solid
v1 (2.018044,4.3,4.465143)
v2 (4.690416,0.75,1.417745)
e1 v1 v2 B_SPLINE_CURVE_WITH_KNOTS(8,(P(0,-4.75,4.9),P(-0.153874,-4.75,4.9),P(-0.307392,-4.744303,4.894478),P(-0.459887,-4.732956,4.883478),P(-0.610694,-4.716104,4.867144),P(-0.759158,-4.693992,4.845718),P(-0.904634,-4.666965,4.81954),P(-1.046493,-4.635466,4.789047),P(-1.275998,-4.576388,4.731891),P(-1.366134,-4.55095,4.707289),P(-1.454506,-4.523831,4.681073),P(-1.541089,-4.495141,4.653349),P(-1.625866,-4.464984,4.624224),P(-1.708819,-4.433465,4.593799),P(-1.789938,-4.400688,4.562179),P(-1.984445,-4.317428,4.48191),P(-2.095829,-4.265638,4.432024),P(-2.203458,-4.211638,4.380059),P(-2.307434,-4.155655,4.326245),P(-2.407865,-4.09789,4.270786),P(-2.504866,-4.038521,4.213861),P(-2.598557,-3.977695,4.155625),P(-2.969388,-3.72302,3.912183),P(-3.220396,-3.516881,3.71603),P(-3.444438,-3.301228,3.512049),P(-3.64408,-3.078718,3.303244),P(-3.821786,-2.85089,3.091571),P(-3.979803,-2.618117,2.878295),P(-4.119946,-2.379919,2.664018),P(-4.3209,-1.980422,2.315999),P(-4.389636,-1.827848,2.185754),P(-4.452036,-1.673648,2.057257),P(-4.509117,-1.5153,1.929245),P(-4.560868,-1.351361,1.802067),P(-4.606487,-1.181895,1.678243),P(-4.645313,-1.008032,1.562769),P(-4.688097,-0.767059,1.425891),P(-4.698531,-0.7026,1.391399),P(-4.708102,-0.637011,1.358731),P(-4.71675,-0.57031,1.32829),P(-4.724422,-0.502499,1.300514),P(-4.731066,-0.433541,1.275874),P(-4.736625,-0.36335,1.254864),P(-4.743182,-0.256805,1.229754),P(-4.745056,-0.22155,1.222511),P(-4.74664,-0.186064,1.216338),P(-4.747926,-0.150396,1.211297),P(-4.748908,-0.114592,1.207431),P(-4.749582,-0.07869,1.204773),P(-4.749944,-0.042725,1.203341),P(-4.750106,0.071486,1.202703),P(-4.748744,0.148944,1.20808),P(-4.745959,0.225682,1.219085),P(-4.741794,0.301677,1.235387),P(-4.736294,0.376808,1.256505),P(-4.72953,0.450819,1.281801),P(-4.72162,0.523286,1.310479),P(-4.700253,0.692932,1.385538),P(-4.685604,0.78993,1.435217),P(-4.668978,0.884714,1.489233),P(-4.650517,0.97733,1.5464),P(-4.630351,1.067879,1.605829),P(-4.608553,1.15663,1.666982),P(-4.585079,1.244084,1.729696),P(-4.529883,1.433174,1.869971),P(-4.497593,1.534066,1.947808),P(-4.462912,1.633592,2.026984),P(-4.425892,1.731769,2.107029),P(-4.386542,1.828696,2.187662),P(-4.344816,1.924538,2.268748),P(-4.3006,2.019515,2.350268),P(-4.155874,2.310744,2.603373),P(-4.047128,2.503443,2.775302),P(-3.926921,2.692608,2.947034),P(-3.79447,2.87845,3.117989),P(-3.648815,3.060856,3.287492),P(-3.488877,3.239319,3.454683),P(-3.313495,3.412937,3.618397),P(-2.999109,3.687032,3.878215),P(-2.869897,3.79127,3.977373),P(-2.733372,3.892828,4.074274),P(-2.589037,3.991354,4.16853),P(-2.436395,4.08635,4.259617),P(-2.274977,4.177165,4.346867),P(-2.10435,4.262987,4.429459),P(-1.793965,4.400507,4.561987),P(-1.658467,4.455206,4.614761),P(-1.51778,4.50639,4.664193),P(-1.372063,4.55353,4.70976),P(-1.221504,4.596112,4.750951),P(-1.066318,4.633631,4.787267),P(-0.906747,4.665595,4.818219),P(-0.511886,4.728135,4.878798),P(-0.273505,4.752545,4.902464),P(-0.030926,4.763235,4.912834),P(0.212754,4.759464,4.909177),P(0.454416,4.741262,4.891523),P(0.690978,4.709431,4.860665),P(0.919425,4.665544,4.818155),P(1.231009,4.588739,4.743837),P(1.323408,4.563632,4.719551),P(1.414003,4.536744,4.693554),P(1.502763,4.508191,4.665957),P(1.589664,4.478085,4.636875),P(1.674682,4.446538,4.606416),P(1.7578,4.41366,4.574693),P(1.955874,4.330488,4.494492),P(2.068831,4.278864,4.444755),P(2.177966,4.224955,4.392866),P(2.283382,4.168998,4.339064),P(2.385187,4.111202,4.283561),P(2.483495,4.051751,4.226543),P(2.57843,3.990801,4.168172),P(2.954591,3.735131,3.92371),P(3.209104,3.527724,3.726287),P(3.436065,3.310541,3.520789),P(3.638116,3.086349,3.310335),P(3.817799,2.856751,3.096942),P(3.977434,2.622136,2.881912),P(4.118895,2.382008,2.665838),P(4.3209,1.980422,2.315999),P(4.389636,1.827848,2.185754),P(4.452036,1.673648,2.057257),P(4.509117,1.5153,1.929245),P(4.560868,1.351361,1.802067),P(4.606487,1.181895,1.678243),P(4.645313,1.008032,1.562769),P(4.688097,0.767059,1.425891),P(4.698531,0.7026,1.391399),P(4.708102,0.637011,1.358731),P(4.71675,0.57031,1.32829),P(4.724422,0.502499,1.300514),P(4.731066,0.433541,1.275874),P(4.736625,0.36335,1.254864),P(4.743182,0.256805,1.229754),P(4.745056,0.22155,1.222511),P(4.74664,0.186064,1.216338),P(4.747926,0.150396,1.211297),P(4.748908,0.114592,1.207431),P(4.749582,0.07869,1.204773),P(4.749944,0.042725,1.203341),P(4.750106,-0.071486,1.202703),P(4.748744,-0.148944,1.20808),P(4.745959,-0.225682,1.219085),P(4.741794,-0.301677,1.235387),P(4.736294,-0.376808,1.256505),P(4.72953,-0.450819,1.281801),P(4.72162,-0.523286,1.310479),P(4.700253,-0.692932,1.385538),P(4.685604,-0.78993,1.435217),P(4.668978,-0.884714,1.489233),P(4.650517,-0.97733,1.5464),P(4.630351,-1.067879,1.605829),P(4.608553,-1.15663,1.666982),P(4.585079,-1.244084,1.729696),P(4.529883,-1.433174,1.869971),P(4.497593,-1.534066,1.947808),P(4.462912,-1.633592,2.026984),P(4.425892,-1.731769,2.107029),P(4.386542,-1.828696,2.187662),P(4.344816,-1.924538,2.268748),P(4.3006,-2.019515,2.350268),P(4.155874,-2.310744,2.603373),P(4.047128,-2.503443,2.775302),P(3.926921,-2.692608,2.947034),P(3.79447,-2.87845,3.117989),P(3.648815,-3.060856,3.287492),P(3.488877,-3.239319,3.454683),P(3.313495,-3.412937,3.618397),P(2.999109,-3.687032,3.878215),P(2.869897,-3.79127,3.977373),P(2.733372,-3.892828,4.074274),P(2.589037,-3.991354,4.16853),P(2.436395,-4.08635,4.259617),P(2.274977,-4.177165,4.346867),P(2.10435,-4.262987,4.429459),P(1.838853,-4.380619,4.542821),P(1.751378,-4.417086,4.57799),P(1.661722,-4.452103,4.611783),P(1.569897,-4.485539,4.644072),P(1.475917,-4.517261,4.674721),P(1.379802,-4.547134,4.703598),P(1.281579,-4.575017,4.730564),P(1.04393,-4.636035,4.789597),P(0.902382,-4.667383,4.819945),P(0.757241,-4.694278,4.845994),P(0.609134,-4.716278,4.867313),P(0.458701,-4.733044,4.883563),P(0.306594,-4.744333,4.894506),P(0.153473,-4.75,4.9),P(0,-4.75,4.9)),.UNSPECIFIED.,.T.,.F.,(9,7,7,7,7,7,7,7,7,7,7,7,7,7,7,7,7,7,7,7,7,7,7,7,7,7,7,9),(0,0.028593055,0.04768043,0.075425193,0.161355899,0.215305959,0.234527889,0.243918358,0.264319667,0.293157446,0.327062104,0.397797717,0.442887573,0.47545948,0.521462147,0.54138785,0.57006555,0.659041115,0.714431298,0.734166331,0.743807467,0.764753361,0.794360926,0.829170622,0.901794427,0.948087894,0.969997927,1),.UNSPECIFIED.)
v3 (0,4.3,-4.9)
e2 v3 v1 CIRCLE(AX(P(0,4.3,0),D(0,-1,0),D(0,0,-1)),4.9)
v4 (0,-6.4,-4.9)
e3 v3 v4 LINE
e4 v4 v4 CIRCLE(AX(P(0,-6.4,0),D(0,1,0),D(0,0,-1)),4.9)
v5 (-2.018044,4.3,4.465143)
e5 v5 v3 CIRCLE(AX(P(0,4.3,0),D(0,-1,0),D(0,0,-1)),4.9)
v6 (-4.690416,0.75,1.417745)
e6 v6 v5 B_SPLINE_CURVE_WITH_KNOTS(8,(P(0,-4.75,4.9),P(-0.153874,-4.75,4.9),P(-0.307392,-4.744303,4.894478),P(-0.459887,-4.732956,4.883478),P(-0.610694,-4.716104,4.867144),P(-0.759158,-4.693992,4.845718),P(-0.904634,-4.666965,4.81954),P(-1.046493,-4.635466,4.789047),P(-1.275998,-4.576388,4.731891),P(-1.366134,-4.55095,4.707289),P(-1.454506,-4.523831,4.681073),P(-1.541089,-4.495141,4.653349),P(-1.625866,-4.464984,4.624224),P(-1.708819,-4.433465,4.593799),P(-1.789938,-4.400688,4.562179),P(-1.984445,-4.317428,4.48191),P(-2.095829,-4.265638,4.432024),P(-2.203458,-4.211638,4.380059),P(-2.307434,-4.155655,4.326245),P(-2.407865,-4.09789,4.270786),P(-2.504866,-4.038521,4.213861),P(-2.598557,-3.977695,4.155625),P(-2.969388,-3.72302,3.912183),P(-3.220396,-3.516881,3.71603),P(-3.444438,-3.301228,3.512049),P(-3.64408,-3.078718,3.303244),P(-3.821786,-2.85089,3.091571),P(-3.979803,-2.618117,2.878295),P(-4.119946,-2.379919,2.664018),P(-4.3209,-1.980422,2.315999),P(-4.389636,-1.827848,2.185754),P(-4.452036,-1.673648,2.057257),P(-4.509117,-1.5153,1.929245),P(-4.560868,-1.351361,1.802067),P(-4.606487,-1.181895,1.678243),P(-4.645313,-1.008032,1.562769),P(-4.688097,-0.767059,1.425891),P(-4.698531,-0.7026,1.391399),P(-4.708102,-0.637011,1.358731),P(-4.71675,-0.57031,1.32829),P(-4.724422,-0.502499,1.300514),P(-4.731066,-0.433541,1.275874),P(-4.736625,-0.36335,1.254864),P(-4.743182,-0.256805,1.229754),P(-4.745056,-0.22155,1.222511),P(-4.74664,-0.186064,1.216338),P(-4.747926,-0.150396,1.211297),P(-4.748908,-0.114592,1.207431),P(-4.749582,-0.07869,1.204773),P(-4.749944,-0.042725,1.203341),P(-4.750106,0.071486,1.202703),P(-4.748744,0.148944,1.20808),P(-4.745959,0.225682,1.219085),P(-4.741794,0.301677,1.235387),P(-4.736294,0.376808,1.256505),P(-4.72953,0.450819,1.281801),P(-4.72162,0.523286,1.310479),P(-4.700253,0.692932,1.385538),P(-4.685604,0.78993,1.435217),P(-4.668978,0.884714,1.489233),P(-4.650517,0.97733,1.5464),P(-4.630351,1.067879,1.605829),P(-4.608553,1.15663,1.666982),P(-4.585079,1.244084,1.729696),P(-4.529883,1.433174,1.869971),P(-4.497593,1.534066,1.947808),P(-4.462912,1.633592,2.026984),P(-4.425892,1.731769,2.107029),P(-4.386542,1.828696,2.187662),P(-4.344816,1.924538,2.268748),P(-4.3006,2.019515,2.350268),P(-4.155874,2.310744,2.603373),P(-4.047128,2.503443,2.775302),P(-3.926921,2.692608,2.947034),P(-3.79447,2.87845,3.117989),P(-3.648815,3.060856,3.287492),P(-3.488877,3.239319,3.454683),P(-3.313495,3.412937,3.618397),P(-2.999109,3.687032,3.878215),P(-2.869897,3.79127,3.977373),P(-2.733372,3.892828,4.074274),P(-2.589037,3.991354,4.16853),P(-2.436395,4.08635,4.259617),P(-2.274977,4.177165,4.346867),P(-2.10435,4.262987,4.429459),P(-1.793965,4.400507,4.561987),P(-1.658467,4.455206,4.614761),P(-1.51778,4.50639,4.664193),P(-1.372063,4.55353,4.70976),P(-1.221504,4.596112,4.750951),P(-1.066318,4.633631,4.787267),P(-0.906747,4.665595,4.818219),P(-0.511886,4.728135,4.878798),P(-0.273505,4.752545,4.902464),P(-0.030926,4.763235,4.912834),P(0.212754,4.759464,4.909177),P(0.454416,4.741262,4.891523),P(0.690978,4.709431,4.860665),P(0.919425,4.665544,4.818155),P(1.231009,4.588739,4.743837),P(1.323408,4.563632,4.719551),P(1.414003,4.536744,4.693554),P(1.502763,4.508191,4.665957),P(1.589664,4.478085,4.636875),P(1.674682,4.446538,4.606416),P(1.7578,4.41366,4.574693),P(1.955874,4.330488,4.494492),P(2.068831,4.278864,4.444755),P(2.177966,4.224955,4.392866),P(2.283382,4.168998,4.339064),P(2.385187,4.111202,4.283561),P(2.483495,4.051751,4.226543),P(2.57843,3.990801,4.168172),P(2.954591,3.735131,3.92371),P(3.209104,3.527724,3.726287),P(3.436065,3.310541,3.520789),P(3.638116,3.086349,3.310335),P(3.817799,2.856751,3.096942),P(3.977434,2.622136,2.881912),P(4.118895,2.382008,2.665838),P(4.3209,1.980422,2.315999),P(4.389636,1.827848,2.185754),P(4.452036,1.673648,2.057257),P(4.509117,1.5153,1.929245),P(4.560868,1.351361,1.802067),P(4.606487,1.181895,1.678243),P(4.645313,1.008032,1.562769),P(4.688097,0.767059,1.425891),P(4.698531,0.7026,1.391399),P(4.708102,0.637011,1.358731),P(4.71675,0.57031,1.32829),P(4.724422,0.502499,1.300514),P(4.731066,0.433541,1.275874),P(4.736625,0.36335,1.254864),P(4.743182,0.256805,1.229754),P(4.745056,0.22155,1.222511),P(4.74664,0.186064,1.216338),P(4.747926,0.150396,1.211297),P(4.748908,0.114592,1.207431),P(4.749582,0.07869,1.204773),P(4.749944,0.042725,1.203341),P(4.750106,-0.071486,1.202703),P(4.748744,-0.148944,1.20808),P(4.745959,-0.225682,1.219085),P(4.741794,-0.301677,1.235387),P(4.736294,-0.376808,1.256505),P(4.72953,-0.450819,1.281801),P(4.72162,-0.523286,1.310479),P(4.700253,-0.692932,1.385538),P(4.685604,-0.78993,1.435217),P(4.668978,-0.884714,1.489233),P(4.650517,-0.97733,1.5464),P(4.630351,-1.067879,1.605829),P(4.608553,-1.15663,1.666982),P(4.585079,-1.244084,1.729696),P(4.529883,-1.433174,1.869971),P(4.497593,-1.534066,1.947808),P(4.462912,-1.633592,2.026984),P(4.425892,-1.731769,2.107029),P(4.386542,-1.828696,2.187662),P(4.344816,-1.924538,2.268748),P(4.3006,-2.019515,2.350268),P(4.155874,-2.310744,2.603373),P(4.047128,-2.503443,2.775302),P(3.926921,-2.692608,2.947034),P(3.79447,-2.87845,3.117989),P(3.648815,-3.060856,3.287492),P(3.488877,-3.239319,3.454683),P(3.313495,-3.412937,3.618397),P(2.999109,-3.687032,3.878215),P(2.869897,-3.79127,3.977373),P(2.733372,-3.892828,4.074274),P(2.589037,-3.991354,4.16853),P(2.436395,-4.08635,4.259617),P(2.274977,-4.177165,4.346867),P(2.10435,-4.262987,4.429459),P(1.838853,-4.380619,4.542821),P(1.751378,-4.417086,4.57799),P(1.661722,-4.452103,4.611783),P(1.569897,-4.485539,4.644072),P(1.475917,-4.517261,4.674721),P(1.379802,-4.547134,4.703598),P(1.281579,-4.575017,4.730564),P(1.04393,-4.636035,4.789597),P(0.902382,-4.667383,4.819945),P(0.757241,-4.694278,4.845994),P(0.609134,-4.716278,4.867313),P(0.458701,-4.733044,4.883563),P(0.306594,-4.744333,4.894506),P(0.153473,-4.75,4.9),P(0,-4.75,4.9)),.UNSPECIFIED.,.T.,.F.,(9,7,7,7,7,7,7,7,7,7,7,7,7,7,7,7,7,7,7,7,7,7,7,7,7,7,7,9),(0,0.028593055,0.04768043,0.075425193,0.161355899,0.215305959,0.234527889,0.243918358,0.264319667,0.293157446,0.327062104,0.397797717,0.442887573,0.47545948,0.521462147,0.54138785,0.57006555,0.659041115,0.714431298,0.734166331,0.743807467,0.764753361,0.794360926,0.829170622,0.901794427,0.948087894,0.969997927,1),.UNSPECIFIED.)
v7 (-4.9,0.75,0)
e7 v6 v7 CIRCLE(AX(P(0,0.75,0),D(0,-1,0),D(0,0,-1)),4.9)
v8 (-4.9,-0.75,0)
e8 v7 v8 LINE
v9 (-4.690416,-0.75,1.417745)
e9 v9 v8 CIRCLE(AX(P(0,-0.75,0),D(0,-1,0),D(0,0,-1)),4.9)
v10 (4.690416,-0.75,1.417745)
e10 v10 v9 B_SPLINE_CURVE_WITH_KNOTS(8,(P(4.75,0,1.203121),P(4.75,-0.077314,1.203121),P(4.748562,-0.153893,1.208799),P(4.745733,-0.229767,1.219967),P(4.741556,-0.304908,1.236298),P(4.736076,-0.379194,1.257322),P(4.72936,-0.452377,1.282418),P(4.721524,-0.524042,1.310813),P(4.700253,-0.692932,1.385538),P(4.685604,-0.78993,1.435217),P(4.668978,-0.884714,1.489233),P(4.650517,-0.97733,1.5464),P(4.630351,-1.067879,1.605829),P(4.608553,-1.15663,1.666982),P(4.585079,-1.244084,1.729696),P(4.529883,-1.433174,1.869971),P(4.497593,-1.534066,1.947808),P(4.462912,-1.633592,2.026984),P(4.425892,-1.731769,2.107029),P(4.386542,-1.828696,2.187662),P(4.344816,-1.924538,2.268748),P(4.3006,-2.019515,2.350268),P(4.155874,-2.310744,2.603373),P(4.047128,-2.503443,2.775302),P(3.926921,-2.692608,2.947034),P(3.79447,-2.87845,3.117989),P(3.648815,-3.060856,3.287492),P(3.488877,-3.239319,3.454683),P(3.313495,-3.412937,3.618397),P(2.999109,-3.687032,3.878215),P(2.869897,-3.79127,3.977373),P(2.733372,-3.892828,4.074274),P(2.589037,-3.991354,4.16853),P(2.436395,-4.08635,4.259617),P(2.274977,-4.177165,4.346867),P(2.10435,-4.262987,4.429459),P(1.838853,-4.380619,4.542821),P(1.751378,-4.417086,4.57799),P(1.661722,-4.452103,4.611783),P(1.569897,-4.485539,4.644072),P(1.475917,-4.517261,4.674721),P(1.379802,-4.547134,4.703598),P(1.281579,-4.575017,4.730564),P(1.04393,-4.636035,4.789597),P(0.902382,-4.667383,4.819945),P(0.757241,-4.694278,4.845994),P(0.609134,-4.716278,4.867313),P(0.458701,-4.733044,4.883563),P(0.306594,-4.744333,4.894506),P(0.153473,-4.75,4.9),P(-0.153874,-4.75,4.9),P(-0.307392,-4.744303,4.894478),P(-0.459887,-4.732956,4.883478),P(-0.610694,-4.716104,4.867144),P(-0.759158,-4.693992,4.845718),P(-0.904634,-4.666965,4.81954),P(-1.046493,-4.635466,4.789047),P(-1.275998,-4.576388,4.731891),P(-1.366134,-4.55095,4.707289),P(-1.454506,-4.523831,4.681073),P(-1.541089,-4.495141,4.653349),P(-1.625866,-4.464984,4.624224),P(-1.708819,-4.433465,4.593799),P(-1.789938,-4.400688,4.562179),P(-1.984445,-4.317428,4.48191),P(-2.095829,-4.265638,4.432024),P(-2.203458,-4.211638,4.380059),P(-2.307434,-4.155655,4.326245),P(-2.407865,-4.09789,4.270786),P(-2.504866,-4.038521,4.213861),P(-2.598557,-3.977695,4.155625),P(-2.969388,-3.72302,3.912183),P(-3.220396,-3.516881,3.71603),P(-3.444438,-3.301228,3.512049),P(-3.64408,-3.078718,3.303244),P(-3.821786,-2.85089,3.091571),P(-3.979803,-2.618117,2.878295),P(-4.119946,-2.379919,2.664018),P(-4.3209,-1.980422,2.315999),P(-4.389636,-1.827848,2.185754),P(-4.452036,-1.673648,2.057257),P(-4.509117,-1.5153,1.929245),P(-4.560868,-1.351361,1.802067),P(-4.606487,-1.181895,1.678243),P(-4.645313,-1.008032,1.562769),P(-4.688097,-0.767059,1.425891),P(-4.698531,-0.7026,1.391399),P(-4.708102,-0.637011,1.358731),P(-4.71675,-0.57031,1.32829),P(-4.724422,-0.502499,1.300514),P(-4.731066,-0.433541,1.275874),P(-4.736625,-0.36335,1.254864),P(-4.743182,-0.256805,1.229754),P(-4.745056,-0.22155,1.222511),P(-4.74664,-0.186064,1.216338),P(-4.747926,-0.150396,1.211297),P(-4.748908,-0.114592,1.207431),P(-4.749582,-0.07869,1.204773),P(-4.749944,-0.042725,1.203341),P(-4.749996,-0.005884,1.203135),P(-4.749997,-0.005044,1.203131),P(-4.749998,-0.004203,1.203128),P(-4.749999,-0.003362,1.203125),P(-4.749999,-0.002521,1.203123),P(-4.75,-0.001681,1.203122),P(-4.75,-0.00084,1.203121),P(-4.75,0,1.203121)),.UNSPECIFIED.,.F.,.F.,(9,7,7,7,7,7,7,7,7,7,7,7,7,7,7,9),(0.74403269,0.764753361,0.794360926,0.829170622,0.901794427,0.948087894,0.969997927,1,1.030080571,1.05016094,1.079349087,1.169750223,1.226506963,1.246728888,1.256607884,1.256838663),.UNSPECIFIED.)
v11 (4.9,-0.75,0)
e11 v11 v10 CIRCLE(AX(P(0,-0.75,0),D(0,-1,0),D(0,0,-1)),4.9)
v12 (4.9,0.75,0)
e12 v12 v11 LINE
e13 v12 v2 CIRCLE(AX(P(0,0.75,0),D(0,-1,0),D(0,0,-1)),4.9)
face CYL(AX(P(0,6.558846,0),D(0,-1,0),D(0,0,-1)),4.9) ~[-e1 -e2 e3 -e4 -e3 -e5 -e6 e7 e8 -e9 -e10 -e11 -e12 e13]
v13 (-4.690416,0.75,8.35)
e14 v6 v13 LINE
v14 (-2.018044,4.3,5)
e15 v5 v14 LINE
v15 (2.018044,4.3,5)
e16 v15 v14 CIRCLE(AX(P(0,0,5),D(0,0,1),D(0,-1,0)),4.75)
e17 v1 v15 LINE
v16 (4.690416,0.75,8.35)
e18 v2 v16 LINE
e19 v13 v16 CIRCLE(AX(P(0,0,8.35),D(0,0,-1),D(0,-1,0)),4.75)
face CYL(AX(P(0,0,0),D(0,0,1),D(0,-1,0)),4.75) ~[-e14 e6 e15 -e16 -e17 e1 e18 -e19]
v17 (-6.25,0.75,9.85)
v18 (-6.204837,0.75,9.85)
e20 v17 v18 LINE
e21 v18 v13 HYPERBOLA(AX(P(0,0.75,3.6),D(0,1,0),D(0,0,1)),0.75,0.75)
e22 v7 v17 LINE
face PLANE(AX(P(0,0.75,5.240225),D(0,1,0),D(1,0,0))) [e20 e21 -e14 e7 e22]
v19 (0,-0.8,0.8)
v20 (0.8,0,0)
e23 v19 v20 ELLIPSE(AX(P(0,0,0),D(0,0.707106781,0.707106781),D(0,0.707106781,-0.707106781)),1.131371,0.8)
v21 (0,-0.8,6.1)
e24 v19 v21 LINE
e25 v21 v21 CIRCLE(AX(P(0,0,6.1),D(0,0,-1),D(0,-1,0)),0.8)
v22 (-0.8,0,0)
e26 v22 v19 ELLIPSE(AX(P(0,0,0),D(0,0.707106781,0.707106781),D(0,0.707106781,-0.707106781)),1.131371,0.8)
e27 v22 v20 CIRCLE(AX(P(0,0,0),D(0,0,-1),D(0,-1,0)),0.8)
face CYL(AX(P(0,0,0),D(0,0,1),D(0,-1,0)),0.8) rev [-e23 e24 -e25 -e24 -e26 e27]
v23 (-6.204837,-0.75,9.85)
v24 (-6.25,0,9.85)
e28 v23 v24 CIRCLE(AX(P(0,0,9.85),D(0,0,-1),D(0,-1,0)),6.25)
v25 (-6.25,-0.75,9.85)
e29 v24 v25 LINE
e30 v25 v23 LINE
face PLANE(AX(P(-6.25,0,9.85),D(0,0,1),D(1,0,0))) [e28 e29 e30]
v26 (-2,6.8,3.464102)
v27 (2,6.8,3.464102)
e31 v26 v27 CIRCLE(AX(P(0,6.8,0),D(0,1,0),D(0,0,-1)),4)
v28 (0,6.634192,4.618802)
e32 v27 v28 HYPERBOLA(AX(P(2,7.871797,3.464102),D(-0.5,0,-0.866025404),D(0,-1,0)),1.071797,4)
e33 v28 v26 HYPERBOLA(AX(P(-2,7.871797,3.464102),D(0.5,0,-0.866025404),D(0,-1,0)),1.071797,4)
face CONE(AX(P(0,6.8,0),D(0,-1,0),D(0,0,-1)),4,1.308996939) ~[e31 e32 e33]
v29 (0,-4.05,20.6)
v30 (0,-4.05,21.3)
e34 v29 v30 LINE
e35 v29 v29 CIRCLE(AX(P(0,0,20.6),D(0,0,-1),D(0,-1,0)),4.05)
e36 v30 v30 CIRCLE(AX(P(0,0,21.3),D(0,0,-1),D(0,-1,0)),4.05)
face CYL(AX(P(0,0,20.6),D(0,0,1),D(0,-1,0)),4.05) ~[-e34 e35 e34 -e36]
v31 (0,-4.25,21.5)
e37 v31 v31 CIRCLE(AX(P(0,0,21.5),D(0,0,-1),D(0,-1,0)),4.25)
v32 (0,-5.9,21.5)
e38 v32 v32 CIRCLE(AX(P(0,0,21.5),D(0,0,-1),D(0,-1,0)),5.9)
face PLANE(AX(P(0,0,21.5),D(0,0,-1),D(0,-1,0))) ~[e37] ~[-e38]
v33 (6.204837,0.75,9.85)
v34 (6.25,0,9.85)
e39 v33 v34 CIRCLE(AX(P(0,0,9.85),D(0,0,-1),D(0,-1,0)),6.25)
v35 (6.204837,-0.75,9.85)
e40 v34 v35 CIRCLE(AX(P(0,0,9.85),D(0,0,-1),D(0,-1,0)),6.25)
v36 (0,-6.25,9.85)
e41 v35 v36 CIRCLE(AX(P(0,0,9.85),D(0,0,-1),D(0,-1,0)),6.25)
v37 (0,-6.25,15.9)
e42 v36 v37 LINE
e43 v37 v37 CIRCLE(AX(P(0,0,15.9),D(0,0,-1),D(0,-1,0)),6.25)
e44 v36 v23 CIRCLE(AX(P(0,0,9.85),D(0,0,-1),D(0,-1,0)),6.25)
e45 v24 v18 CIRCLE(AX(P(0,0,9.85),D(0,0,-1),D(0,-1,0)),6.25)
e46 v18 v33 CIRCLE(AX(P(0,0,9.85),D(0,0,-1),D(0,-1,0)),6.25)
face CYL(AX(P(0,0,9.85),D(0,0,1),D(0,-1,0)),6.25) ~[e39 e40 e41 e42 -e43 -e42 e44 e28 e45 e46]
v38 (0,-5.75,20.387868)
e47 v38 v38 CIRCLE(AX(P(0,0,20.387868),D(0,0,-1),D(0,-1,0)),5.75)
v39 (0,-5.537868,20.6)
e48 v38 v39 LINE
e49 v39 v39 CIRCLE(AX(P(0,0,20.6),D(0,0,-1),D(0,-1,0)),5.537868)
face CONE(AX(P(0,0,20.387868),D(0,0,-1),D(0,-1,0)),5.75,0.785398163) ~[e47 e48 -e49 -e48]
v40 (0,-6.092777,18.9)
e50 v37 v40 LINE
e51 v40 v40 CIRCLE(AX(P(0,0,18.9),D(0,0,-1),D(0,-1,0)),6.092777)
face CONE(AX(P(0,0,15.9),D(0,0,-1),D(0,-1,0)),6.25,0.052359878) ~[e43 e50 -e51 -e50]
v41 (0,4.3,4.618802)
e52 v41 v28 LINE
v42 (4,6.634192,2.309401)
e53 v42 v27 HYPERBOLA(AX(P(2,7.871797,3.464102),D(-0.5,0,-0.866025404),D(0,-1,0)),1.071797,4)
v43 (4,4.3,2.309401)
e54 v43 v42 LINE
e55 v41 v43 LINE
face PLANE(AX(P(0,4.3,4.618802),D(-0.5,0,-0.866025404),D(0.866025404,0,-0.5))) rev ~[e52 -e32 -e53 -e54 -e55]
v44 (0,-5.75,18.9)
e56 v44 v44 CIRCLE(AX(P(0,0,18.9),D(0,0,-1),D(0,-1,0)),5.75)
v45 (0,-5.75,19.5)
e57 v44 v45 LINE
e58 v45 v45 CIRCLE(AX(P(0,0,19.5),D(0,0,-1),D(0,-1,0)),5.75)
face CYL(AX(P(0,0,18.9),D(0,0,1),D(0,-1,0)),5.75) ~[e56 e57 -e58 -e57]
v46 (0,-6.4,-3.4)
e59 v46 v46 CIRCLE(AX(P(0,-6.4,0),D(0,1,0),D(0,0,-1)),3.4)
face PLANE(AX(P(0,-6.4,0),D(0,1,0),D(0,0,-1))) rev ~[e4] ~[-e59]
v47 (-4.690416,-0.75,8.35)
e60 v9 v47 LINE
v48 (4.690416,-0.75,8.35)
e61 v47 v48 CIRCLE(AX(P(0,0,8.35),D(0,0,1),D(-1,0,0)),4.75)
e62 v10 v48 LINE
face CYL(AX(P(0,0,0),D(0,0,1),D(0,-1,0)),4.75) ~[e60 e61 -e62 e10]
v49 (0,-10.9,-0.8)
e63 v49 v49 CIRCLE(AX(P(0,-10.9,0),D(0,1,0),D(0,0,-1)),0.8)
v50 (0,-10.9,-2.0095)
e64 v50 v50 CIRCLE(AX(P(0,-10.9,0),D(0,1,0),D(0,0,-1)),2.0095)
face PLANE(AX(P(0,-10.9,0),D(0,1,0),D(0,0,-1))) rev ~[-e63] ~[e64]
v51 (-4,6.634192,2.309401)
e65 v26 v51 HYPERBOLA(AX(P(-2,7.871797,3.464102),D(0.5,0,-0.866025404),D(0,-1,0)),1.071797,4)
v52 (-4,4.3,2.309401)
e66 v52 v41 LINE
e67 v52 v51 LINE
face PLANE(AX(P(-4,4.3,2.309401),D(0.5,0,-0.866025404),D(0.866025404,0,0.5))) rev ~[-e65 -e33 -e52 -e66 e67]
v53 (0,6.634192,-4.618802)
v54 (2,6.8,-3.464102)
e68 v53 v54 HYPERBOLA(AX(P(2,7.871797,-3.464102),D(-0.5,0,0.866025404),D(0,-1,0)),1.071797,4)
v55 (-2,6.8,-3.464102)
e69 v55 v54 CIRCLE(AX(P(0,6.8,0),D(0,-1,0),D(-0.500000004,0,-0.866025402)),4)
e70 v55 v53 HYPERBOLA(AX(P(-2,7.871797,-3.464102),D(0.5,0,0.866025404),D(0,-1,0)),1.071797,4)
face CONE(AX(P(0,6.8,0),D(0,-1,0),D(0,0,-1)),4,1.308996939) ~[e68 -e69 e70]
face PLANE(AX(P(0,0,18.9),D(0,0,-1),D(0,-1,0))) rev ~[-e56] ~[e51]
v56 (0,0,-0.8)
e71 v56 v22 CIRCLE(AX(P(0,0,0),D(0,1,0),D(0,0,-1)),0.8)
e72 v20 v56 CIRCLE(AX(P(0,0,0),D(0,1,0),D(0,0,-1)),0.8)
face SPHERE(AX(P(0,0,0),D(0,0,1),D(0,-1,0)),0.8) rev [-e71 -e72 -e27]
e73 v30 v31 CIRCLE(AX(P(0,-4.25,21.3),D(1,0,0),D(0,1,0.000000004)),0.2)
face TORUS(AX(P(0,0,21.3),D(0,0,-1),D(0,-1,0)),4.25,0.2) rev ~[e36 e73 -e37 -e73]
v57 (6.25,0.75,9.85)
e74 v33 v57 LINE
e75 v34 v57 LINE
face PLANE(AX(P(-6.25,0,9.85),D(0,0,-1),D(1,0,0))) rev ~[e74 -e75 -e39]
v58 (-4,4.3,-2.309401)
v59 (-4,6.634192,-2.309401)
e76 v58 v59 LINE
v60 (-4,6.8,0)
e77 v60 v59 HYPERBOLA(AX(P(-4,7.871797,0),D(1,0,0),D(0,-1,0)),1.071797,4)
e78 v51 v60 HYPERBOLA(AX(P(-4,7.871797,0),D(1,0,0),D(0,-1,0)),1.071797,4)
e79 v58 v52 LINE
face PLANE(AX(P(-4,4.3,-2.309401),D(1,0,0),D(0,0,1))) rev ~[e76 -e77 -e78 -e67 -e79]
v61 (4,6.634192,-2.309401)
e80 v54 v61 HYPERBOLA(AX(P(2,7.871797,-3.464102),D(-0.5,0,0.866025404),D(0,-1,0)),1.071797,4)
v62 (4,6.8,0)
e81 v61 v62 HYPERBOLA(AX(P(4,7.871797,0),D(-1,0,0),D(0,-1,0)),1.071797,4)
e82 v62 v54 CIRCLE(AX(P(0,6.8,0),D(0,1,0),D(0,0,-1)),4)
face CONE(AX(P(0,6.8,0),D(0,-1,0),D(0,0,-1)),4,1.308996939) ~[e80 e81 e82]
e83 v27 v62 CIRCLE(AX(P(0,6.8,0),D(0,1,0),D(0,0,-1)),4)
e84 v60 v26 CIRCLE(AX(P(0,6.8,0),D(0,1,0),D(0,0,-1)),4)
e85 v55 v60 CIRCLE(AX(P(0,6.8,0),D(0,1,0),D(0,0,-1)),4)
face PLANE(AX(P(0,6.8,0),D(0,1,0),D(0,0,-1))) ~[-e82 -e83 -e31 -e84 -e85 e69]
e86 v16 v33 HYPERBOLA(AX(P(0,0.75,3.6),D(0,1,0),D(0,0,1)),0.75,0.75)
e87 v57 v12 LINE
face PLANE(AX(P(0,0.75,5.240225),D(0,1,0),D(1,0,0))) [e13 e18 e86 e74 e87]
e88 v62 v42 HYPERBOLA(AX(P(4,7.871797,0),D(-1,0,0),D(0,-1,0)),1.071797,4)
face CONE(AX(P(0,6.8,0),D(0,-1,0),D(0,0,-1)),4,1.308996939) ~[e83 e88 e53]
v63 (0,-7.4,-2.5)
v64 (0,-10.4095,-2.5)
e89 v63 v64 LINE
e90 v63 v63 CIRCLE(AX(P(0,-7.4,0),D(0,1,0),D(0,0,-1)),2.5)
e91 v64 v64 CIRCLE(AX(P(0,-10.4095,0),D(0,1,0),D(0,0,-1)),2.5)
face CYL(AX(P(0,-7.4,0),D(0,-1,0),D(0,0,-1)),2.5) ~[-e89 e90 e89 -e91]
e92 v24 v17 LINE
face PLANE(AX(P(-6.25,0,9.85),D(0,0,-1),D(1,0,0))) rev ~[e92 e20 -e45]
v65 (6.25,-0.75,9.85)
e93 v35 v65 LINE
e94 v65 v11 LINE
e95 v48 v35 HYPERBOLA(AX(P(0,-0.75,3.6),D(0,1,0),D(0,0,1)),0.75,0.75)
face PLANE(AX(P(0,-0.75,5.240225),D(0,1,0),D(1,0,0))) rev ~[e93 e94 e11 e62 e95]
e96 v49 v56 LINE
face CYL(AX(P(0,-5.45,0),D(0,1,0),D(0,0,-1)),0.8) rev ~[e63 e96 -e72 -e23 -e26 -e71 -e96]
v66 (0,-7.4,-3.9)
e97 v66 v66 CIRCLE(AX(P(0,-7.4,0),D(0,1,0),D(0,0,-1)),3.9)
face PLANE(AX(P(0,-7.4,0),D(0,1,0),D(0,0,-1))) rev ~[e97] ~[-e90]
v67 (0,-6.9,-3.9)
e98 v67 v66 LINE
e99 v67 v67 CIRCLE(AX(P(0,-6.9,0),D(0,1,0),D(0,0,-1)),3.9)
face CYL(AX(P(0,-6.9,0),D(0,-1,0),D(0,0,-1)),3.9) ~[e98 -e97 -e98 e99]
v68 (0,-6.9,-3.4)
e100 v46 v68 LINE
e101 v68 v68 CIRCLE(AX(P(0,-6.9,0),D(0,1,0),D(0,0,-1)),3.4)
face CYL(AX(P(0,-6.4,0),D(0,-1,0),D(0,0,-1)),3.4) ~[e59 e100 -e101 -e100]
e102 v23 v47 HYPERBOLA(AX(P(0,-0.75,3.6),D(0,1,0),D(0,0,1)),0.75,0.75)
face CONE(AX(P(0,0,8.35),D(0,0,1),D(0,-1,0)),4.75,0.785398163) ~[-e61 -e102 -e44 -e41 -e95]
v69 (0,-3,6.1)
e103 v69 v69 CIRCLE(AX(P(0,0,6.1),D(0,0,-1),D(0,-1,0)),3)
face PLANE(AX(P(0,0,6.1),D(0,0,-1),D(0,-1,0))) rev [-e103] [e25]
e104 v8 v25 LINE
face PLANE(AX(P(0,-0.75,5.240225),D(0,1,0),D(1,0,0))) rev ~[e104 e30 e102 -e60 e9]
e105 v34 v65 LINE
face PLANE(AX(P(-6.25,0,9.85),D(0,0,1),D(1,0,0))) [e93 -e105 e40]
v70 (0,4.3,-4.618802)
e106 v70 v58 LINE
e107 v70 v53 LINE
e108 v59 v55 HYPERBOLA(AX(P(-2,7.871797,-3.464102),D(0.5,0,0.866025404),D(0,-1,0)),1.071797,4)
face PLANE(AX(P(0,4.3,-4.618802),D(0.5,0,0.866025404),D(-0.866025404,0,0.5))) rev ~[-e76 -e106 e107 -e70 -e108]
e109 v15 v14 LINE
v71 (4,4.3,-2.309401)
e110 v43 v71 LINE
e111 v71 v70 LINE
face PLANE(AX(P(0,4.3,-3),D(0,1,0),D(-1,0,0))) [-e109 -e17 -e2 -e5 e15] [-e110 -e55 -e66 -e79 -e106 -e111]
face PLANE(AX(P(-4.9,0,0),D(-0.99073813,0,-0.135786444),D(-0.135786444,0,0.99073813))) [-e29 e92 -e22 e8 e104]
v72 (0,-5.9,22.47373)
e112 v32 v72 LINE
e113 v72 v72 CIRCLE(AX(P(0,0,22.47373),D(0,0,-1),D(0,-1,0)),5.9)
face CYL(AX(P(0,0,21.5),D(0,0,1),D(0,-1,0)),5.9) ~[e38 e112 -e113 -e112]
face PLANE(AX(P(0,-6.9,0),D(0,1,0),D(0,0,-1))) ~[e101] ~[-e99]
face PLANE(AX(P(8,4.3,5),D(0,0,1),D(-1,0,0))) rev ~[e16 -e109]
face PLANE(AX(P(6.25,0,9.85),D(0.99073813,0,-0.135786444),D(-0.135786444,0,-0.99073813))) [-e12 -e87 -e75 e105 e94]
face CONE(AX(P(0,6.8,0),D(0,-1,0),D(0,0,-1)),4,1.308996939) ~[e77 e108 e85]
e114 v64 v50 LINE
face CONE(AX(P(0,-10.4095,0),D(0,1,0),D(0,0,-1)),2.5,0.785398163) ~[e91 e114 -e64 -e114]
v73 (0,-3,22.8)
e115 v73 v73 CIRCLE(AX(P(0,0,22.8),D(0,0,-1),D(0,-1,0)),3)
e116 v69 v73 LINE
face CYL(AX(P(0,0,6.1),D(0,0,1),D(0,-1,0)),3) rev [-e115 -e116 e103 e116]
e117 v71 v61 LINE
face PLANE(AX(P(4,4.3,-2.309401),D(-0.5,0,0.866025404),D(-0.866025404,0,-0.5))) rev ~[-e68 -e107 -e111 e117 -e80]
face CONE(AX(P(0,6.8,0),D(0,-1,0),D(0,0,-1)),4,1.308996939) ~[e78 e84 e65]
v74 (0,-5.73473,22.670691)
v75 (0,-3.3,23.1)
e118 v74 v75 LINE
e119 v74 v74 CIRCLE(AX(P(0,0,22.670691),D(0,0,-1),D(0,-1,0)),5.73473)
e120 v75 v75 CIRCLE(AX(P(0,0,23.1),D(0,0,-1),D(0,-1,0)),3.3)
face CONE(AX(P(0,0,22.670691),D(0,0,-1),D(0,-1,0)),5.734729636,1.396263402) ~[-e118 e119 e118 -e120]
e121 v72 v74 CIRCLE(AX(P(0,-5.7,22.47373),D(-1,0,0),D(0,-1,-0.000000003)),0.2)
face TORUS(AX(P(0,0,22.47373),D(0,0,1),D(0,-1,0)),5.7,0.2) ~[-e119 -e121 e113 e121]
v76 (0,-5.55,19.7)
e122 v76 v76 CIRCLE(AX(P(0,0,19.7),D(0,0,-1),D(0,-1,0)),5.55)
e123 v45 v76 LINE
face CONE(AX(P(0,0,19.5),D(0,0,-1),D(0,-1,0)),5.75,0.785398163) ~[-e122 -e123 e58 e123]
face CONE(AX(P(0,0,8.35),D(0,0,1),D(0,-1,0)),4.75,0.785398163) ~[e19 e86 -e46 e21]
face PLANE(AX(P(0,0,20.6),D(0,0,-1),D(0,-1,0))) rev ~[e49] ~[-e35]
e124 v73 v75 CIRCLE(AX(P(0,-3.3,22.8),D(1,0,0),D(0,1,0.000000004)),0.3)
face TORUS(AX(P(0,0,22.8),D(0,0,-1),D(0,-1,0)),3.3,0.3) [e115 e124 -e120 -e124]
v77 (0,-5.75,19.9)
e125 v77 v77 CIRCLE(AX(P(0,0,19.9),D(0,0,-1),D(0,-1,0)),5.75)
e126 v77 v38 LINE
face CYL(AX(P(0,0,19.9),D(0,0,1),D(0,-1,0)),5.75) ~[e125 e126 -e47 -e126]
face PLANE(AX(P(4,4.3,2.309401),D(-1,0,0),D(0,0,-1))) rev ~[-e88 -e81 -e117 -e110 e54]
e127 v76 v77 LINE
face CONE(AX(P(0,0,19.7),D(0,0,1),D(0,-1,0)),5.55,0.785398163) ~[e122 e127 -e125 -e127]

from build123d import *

# Parameters (mm, degrees)
LINEAR_AUSTRAGEN1_DEPTH      = 0.75
LINEAR_AUSTRAGEN1_DEPTH_BACK = 0.75
SKIZZE5_W                    = 16
SKIZZE5_H                    = 16
LINEAR_AUSTRAGEN2_DEPTH      = 2.5
SKIZZE6_W                    = 0.8
SKIZZE6_H                    = 10.9


with BuildPart() as part:
    # Skizze1 → Rotation1 (revolve)
    with BuildSketch(Plane(origin=(0, 0, 0), x_dir=(0, 0, -1), z_dir=(1, 0, 0))):
        Polygon((0, 6.8), (4, 6.8), (4.9, 6.558845727), (4.9, -6.4), (3.4, -6.4), (3.4, -6.9), (3.9, -6.9), (3.9, -7.4), (2.5, -7.4), (2.5, -10.4095), (2.0095, -10.9), (0, -10.9), align=None)
    revolve(axis=Axis((0, -10.9, 0), (0, 1, 0)))

    # Skizze2 → Rotation2 (revolve)
    with BuildSketch(Plane(origin=(0, 0, 0), x_dir=(0, 0, -1), z_dir=(1, 0, 0))):
        with BuildLine():
            Line((0, -4.75), (-8.35, -4.75))
            Line((-8.35, -4.75), (-9.85, -6.25))
            Line((-9.85, -6.25), (-15.9, -6.25))
            Line((-15.9, -6.25), (-18.9, -6.092776662))
            Line((-18.9, -6.092776662), (-18.9, -5.75))
            Line((-18.9, -5.75), (-19.5, -5.75))
            Line((-19.5, -5.75), (-19.7, -5.55))
            Line((-19.7, -5.55), (-19.9, -5.75))
            Line((-19.9, -5.75), (-20.387867966, -5.75))
            Line((-20.387867966, -5.75), (-20.6, -5.537867966))
            Line((-20.6, -5.537867966), (-20.6, -4.05))
            Line((-20.6, -4.05), (-21.3, -4.05))
            ThreePointArc((-21.3, -4.05), (-21.441421356, -4.108578644), (-21.5, -4.25))
            Line((-21.5, -4.25), (-21.5, -5.9))
            Line((-21.5, -5.9), (-22.473729924, -5.9))
            ThreePointArc((-22.473729924, -5.9), (-22.602287446, -5.853208889), (-22.670691475, -5.734729636))
            Line((-22.670691475, -5.734729636), (-23.1, -3.3))
            Line((-23.1, -3.3), (-23.1, 0))
            Line((-23.1, 0), (4.75, 0))
            ThreePointArc((4.75, 0), (3.358757211, -3.358757211), (0, -4.75))
        make_face()
    revolve(axis=Axis((0, 0, 23.1), (0, 0, -1)))

    # Skizze4 → Linear austragen1 (add, two sides: drawn at the far end of the back side and taken through both)
    with BuildSketch(Plane(origin=(0, 0, 0), x_dir=(1, 0, 0), z_dir=(0, 1, 0)).offset(-LINEAR_AUSTRAGEN1_DEPTH_BACK)):
        Polygon((-6.25, -9.85), (6.25, -9.85), (4.9, 0), (-4.9, 0), align=None)
    extrude(amount=LINEAR_AUSTRAGEN1_DEPTH + LINEAR_AUSTRAGEN1_DEPTH_BACK)

    # Skizze5 → Linear austragen2 (cut)
    with BuildSketch(Plane(origin=(0, 4.3, 0), x_dir=(-1, 0, 0), z_dir=(0, 1, 0))):
        with Locations((0, -3)):
            Rectangle(SKIZZE5_W, SKIZZE5_H)
        Polygon((4, 2.309401077), (0, 4.618802154), (-4, 2.309401077), (-4, -2.309401077), (0, -4.618802154), (4, -2.309401077), align=None, mode=Mode.SUBTRACT)
    extrude(amount=LINEAR_AUSTRAGEN2_DEPTH, mode=Mode.SUBTRACT)

    # Skizze6 → Schnitt-Rotation1 (revolve, cut)
    with BuildSketch(Plane(origin=(0, 0, 0), x_dir=(0, 0, -1), z_dir=(1, 0, 0))):
        with Locations((0.4, -5.45)):
            Rectangle(SKIZZE6_W, SKIZZE6_H)
    revolve(axis=Axis((0, -10.9, 0), (0, 1, 0)), mode=Mode.SUBTRACT)

    # Skizze3 → Schnitt-Rotation2 (revolve, cut)
    with BuildSketch(Plane(origin=(0, 0, 0), x_dir=(0, 0, -1), z_dir=(1, 0, 0))):
        with BuildLine():
            Line((0, -0.8), (-6.1, -0.8))
            Line((-6.1, -0.8), (-6.1, -3))
            Line((-6.1, -3), (-22.8, -3))
            ThreePointArc((-22.8, -3), (-23.012132034, -3.087867966), (-23.1, -3.3))
            Line((-23.1, -3.3), (-23.1, 0))
            Line((-23.1, 0), (0.8, 0))
            ThreePointArc((0.8, 0), (0.565685425, -0.565685425), (0, -0.8))
        make_face()
    revolve(axis=Axis((0, 0, 23.1), (0, 0, -1)), mode=Mode.SUBTRACT)


solid = part.part
